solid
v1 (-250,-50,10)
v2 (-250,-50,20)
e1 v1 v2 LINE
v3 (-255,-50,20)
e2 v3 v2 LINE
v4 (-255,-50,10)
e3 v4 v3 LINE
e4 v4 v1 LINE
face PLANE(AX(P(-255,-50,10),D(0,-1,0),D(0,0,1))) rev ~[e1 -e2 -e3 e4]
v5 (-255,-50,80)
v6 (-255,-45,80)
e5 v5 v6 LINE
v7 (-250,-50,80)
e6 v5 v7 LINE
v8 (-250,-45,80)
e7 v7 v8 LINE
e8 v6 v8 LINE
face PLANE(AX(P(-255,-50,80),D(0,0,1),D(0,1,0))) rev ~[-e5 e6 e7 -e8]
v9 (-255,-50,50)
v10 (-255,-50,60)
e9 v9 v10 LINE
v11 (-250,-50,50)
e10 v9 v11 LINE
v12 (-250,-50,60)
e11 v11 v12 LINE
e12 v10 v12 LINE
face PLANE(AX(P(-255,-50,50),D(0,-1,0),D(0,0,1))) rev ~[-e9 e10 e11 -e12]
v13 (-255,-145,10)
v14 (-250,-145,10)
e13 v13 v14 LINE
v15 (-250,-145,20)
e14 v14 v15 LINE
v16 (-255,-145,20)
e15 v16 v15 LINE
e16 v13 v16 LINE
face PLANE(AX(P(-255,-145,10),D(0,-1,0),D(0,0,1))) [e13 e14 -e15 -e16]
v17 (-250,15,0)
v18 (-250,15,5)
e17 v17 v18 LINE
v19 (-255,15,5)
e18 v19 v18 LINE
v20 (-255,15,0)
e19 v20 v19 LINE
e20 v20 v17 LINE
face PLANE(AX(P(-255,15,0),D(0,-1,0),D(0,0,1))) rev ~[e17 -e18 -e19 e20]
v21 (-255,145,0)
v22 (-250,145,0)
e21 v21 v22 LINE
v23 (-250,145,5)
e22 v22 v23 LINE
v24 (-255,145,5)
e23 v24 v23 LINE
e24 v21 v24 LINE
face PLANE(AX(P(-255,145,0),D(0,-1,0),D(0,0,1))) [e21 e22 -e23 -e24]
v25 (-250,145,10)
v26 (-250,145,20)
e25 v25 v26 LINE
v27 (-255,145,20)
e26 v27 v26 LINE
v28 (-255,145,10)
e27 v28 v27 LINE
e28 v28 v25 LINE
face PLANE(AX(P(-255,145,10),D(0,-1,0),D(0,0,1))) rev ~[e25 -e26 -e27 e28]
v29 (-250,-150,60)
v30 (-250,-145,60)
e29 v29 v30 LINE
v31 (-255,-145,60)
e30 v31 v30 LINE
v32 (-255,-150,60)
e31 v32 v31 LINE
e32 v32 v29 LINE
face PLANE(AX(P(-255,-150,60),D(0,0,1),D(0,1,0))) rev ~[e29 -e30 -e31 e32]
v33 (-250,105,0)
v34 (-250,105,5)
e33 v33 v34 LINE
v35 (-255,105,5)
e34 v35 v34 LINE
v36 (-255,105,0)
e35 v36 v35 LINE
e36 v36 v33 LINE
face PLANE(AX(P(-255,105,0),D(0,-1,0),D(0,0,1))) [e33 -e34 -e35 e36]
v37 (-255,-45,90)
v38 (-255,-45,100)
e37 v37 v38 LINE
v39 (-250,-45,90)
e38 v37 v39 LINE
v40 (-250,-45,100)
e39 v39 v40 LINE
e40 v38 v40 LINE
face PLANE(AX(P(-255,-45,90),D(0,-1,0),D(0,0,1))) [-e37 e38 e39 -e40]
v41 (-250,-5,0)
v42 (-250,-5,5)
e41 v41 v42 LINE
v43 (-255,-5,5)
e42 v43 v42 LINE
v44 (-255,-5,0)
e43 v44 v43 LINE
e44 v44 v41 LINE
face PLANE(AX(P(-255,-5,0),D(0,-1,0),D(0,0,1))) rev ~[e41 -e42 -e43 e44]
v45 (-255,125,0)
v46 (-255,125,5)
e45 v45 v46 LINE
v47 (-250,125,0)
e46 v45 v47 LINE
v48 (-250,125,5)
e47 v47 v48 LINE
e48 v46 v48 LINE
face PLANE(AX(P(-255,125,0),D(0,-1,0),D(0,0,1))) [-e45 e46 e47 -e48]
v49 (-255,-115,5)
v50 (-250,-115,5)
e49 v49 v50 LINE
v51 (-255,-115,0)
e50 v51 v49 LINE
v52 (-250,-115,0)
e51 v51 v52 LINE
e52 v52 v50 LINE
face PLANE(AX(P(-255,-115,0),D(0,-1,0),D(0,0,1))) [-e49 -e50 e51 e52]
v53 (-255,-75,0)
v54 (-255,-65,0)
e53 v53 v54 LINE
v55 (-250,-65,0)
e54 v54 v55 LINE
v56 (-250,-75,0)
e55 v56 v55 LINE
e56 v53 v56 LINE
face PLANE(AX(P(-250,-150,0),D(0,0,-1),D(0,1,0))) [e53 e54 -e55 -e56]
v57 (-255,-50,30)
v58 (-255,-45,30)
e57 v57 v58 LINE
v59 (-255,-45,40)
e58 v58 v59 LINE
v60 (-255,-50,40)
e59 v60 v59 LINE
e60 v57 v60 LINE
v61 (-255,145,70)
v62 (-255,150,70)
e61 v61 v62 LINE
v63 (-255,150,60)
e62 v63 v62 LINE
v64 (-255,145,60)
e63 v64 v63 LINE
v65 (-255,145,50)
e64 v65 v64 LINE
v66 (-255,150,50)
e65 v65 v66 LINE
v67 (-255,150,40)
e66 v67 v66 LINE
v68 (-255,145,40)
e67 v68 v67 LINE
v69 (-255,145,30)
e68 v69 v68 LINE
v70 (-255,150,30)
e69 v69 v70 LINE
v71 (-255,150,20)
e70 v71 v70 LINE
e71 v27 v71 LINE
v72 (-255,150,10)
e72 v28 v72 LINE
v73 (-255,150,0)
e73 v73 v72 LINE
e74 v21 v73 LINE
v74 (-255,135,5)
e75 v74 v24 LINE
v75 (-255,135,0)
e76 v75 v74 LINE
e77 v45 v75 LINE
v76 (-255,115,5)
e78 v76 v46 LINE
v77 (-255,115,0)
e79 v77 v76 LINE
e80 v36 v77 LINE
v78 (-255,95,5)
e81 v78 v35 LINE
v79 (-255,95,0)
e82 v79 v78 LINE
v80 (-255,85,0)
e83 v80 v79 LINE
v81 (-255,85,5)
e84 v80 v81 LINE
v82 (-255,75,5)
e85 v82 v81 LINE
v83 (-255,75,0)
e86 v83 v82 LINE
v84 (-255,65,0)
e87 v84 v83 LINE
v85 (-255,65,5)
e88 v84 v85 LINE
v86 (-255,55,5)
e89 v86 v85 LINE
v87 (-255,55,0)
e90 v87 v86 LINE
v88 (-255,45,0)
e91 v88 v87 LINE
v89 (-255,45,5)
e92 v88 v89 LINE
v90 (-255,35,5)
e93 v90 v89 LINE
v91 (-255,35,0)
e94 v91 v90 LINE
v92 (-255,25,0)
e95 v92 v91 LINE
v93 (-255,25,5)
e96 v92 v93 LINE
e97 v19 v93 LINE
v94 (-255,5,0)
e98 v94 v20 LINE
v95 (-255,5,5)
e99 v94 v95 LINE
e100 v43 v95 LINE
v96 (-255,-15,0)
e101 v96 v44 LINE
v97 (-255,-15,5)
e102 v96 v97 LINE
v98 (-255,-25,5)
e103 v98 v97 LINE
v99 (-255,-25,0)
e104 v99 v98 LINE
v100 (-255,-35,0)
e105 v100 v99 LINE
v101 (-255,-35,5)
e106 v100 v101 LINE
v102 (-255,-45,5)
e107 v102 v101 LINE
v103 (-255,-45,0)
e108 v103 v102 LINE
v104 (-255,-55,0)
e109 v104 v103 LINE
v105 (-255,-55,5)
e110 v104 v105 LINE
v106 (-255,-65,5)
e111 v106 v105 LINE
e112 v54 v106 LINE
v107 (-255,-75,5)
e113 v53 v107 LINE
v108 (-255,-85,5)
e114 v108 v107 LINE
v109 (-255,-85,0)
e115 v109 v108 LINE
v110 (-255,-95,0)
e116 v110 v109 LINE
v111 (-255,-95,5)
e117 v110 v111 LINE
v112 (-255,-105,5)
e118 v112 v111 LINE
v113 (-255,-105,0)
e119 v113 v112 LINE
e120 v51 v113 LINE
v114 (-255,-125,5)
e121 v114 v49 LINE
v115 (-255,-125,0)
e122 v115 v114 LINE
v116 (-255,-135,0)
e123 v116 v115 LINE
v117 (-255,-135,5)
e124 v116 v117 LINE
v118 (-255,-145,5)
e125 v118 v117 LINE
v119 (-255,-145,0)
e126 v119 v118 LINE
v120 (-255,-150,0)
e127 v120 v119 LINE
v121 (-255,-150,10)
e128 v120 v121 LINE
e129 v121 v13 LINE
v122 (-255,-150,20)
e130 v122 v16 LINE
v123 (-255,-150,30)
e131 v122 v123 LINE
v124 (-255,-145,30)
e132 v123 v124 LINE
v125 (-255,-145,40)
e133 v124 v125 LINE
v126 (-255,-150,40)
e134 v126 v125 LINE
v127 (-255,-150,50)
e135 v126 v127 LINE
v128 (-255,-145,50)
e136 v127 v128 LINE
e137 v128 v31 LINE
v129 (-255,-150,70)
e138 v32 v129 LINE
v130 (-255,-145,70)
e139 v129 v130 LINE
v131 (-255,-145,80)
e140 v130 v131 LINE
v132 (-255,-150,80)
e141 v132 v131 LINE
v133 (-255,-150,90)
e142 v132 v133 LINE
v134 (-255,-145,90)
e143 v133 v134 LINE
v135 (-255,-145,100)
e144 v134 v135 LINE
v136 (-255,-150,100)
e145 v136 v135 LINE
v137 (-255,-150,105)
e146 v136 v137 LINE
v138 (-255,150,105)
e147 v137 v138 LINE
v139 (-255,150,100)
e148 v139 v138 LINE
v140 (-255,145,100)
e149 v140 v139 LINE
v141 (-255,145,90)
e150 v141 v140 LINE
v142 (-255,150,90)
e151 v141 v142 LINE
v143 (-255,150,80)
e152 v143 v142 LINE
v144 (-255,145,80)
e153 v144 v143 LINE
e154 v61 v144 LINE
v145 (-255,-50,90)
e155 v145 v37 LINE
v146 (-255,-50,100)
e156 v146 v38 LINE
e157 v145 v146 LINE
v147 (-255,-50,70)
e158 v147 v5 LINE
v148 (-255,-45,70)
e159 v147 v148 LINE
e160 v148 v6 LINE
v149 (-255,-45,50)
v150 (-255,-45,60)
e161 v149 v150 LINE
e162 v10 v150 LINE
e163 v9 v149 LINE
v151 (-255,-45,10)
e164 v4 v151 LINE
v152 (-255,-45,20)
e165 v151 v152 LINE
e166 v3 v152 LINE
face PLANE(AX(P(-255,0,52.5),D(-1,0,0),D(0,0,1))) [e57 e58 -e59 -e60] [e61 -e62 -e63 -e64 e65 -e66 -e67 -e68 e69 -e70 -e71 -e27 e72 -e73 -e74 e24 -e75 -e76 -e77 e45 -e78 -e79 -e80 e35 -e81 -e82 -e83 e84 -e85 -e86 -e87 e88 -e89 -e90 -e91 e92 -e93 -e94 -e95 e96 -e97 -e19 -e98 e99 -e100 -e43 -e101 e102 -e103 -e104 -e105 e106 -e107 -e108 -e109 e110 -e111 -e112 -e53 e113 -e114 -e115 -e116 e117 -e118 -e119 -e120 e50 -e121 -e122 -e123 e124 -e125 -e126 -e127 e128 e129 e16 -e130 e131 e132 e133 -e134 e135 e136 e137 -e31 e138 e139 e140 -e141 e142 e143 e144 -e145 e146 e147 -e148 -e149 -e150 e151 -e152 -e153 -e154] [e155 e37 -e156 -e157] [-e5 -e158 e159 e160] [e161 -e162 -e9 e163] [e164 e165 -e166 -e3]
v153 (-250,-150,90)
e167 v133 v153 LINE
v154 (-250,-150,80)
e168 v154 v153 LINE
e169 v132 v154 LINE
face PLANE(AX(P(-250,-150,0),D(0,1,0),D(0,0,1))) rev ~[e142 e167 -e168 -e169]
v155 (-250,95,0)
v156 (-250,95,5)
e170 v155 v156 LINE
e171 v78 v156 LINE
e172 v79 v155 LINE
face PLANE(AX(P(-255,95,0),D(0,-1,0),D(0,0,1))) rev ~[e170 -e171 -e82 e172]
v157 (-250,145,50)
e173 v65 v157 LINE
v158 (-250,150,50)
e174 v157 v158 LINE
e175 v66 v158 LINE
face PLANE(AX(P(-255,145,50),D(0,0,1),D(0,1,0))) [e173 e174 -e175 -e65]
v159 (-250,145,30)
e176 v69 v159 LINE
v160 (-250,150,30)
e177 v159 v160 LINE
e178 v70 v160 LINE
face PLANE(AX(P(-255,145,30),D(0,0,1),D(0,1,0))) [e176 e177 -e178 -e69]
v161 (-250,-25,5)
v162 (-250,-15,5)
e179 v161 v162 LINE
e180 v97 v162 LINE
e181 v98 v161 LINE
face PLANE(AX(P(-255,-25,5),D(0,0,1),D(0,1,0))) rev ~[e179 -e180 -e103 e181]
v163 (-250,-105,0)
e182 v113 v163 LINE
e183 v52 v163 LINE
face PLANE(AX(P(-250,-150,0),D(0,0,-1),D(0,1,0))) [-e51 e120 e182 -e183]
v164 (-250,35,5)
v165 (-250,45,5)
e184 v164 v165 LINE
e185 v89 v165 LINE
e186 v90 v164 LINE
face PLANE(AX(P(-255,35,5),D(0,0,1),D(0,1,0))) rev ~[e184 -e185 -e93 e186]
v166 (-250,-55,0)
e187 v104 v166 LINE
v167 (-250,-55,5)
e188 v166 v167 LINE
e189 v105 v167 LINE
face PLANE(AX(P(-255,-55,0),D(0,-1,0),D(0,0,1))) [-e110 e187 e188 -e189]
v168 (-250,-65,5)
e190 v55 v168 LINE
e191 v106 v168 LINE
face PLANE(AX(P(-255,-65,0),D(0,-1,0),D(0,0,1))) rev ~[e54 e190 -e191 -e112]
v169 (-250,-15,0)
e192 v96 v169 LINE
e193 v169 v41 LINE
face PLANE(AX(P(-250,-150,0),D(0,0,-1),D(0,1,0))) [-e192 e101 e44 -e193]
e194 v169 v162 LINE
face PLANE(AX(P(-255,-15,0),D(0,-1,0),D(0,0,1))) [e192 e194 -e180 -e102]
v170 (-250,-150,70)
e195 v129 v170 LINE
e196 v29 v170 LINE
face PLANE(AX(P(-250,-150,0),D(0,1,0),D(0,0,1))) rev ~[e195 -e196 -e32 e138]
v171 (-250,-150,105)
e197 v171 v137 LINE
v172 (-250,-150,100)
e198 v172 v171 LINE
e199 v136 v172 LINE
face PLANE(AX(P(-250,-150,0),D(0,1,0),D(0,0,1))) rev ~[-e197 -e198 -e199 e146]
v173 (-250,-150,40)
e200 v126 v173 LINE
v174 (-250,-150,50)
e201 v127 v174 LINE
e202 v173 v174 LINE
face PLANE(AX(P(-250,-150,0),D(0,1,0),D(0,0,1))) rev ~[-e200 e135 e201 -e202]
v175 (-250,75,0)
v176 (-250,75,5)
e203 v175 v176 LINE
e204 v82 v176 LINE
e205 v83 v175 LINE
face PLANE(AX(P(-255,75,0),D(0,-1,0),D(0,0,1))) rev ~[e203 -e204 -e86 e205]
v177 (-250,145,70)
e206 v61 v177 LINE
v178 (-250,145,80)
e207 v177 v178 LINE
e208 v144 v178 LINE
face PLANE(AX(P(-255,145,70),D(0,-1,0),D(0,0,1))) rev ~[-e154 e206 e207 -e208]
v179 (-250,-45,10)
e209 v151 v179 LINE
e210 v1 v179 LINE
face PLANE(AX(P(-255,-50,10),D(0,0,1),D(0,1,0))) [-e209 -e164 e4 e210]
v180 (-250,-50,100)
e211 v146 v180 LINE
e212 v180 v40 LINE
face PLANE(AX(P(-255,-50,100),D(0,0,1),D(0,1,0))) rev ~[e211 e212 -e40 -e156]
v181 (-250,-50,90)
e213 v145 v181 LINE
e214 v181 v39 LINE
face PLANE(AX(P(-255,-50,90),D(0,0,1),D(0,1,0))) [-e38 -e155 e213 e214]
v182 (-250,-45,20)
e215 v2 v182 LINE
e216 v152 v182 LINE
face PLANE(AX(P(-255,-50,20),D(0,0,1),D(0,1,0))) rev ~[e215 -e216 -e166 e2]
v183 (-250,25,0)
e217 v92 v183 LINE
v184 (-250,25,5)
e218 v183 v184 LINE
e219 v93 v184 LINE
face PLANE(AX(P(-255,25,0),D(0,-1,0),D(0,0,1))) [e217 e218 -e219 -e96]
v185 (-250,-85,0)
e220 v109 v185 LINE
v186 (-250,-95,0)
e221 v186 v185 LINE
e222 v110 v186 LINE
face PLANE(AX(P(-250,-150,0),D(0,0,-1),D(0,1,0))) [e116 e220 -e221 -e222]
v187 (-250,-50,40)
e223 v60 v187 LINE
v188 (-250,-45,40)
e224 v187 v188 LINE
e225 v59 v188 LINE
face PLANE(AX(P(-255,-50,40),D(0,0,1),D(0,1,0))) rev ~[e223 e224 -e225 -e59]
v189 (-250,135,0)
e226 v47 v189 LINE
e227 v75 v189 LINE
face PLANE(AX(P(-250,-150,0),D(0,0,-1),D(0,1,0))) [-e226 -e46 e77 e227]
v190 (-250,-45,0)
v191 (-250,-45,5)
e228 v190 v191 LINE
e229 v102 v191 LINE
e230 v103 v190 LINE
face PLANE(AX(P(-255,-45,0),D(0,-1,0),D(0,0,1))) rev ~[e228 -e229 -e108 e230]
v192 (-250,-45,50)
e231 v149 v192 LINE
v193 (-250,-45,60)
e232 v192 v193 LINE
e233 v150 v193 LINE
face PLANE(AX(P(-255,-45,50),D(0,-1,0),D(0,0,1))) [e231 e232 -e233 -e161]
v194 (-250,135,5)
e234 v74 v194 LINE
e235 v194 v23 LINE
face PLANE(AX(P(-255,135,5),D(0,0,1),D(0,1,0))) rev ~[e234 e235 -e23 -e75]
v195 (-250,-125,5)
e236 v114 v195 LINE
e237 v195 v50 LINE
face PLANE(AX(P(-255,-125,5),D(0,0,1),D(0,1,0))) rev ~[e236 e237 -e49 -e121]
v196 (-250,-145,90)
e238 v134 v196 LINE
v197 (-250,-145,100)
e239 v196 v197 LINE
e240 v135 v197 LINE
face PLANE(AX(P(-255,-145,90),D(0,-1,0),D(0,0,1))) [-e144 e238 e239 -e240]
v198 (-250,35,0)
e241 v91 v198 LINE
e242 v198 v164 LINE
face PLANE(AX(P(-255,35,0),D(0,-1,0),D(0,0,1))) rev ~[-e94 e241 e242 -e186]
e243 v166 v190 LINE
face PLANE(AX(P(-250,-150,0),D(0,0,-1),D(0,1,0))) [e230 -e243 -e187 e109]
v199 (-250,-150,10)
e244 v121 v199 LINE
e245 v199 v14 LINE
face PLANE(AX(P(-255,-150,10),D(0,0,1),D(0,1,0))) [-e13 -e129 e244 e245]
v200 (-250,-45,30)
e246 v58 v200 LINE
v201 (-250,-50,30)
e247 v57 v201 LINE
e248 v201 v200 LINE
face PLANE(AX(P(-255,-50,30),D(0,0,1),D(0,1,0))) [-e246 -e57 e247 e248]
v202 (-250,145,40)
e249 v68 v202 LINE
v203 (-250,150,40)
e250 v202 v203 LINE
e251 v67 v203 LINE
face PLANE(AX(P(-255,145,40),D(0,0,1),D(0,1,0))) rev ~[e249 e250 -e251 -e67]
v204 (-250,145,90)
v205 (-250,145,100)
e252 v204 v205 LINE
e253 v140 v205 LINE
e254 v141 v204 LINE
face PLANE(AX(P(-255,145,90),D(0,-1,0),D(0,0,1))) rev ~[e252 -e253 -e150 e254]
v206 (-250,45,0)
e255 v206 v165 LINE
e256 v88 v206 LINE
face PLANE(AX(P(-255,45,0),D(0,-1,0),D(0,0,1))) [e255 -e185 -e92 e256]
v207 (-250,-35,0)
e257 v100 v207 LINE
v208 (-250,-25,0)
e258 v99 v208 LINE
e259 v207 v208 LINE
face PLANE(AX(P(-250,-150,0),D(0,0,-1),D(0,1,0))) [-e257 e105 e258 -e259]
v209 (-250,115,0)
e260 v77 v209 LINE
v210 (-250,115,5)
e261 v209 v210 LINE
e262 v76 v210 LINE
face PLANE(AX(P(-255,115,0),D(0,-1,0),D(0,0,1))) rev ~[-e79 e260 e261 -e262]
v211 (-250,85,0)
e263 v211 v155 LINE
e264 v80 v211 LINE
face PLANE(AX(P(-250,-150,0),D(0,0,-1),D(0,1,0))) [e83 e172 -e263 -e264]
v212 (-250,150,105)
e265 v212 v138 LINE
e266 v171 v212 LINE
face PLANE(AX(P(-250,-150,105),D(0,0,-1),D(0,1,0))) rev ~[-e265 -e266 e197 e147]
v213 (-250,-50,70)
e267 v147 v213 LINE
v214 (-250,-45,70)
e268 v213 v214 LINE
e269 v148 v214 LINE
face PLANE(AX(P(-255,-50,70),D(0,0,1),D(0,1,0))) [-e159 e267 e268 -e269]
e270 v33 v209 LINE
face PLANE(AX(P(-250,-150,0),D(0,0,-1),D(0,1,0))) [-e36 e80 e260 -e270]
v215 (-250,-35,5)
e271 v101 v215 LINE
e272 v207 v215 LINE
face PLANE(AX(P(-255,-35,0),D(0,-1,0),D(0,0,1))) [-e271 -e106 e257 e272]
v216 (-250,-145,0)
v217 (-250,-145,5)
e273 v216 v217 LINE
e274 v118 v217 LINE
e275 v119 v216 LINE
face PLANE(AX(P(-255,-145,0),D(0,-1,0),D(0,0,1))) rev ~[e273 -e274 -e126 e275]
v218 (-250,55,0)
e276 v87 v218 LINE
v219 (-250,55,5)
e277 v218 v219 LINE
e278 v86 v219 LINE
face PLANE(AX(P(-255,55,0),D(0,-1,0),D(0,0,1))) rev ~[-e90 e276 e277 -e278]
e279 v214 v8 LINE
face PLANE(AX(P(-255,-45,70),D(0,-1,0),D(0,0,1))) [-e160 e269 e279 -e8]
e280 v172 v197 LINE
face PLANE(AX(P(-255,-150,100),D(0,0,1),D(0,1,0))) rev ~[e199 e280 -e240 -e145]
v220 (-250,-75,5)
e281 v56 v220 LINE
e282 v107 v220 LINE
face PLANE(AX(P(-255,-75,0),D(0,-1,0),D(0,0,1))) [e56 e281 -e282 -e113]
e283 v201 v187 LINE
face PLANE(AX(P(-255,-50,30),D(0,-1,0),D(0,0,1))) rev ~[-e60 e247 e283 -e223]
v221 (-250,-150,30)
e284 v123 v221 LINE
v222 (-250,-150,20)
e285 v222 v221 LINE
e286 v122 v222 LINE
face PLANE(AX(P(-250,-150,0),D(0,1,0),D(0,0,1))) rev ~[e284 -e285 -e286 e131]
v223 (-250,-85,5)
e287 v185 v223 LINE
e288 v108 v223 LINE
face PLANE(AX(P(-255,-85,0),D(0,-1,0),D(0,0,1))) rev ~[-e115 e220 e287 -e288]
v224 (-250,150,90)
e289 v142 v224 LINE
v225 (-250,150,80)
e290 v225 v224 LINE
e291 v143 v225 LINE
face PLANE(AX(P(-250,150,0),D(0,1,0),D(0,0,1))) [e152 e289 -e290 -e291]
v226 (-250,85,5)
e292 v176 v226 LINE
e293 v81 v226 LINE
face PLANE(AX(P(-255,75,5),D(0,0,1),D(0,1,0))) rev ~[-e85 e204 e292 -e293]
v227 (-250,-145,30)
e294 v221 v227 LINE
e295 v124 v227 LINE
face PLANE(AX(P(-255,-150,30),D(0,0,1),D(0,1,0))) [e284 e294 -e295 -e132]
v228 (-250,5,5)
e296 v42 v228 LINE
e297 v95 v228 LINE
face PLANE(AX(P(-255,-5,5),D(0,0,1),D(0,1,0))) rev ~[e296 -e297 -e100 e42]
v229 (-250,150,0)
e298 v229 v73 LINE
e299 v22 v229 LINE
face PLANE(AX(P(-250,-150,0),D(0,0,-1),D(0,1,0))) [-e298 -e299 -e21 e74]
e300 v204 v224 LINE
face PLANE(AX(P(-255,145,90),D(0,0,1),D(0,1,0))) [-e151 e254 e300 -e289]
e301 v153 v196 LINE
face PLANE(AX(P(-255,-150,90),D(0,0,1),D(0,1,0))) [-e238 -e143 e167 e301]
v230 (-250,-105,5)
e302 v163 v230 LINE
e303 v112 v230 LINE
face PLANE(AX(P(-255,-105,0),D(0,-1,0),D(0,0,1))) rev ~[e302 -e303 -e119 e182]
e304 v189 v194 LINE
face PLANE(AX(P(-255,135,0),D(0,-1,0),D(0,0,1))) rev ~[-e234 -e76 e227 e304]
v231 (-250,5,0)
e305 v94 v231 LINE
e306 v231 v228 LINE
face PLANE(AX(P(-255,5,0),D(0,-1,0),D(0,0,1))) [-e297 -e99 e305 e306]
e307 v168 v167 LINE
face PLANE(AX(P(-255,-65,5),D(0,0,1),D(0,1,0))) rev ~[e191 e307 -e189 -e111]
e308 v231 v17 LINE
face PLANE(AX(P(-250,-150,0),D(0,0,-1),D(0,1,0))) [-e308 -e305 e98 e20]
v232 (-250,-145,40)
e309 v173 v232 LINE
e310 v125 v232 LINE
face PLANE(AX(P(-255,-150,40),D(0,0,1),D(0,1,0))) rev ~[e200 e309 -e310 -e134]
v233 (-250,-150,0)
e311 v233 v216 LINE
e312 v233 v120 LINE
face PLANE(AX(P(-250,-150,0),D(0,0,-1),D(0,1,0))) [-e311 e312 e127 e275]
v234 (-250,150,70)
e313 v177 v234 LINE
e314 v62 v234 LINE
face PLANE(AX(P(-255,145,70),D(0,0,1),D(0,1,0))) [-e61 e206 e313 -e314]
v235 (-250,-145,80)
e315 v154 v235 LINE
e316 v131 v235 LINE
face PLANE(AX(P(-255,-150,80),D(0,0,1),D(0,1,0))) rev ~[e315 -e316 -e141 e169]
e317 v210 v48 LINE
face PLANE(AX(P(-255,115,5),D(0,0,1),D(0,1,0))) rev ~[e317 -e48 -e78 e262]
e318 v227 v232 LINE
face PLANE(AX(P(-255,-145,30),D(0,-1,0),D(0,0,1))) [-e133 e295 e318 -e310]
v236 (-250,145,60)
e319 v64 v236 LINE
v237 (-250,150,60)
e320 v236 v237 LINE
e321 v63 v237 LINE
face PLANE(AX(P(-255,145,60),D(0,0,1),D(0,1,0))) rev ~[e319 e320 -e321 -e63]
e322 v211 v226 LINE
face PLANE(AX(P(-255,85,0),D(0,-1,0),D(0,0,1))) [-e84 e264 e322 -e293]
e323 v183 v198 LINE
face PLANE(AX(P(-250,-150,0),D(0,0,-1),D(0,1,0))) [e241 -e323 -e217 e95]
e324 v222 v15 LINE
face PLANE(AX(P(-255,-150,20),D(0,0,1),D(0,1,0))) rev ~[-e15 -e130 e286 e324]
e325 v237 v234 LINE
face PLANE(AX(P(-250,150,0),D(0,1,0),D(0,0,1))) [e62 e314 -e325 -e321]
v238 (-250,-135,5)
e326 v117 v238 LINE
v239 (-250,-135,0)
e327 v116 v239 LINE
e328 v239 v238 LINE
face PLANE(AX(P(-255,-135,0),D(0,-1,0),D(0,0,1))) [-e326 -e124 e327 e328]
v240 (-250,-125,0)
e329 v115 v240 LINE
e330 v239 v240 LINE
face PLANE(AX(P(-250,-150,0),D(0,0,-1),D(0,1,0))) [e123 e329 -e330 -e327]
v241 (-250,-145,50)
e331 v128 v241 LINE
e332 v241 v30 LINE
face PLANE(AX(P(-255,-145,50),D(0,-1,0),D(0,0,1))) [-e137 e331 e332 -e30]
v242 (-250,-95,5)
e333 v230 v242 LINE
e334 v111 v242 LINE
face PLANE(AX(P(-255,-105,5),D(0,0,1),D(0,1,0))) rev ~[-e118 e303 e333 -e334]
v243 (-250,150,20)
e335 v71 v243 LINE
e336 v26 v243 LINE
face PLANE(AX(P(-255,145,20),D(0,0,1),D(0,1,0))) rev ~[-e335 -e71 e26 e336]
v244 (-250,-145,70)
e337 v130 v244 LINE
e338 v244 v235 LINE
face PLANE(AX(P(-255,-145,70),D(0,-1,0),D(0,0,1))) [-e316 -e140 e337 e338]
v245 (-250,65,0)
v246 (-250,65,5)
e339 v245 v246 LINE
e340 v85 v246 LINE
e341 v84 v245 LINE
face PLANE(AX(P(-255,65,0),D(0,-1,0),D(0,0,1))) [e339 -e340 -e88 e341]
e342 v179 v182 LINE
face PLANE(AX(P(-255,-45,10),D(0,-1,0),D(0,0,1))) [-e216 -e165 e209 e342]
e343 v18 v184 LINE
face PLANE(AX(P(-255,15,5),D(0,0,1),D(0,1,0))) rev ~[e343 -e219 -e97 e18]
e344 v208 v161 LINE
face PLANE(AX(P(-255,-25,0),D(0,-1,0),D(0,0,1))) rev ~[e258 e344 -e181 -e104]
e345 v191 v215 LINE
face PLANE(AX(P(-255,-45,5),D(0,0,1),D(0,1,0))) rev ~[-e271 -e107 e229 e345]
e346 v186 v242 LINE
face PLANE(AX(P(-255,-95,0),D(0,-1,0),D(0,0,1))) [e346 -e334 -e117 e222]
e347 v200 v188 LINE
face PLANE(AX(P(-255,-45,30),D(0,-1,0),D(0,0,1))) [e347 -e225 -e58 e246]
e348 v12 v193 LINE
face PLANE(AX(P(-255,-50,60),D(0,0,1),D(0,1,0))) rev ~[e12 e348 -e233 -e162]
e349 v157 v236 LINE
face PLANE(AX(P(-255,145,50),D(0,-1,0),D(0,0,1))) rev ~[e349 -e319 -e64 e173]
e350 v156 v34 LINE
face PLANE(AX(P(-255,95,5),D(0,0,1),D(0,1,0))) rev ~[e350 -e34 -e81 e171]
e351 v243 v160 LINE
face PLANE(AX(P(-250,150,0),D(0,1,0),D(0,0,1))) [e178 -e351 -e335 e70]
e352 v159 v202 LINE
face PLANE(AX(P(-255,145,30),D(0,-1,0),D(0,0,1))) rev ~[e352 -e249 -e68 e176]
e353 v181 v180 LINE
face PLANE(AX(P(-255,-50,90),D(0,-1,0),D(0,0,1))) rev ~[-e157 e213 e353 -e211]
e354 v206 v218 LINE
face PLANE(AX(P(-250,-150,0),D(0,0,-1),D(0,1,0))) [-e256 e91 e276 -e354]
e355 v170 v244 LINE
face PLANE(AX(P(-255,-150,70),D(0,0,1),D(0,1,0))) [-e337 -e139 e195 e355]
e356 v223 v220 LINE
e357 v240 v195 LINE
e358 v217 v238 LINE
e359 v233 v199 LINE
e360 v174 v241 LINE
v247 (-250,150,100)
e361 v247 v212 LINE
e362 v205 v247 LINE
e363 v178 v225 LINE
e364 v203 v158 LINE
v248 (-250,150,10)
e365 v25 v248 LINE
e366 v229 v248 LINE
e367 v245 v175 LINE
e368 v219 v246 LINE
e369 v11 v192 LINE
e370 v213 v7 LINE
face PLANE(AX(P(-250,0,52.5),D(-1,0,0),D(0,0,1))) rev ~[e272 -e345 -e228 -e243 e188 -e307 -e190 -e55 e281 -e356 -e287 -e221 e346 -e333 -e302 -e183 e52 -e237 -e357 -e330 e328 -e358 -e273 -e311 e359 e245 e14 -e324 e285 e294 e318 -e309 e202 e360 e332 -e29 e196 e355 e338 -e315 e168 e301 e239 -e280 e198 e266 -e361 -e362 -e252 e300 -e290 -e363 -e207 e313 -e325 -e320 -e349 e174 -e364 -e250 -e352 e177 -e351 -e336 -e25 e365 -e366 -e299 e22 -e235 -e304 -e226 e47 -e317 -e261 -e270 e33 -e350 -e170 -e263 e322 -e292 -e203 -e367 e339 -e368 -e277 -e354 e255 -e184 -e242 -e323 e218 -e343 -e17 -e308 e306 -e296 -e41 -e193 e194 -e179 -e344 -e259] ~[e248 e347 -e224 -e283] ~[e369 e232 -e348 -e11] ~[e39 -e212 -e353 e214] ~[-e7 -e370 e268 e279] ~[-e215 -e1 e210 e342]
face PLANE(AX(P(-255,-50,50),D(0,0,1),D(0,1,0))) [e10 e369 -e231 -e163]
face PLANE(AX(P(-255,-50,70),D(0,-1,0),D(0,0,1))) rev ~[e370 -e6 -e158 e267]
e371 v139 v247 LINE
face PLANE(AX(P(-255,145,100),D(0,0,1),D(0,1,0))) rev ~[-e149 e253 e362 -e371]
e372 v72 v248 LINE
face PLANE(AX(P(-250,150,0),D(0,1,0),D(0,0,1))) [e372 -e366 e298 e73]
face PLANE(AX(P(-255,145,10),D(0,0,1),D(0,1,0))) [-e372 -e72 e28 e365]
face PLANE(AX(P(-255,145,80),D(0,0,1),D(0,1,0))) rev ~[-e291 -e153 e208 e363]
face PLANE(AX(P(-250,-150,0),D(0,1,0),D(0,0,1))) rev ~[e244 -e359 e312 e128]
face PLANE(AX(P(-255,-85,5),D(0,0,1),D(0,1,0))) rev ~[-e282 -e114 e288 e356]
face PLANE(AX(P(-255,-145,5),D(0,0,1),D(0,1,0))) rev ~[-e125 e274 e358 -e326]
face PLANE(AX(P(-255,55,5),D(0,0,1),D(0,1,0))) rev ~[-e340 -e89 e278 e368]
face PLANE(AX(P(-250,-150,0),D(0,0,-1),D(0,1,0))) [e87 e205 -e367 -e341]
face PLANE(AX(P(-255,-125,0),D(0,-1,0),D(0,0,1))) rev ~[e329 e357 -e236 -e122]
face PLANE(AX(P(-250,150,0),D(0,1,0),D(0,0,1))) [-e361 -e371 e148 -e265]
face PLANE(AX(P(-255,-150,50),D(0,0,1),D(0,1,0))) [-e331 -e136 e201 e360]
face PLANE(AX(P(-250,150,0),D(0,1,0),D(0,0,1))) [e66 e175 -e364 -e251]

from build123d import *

# Parameters (mm, degrees)
SKETCH004_W             = 105
SKETCH004_H             = 300
PAD004_DEPTH            = 5
SKETCH125_W             = 5
SKETCH125_H             = 10
POCKET035_DEPTH         = 5
LINEARPATTERN077_COUNT  = 15
LINEARPATTERN077_PITCH  = 20
SKETCH126_W             = 10
SKETCH126_H             = 5
POCKET036_DEPTH         = 5
LINEARPATTERN078_COUNT  = 5
LINEARPATTERN078_PITCH  = 20
BODY004_PLACEMENT_ANGLE = 90


with BuildPart() as part:
    # Sketch004 → Pad004 (new body)
    with BuildSketch(Plane.XY):
        Rectangle(SKETCH004_W, SKETCH004_H)
    extrude(amount=PAD004_DEPTH)

    # Sketch125 (on DatumPlane) → Pocket035 (cut)
    with BuildSketch(Plane.XY.offset(5)):
        with Locations((-50, 140)):
            Rectangle(SKETCH125_W, SKETCH125_H)
    pocket035 = extrude(amount=-POCKET035_DEPTH, mode=Mode.SUBTRACT)

    # LinearPattern077: Pocket035 ×15
    with Locations(*[(0, -i * LINEARPATTERN077_PITCH, 0) for i in range(1, LINEARPATTERN077_COUNT)]):
        add(pocket035, mode=Mode.SUBTRACT)

    # Sketch126 (on DatumPlane) → Pocket036 (cut)
    with BuildSketch(Plane.XY.offset(5)):
        with Locations((-37.5, 147.5)):
            Rectangle(SKETCH126_W, SKETCH126_H)
        with Locations((-37.5, -47.5)):
            Rectangle(SKETCH126_W, SKETCH126_H)
        with Locations((-37.5, -147.5)):
            Rectangle(SKETCH126_W, SKETCH126_H)
    pocket036 = extrude(amount=-POCKET036_DEPTH, mode=Mode.SUBTRACT)

    # LinearPattern078: Pocket036 ×5
    with Locations(*[(i * LINEARPATTERN078_PITCH, 0, 0) for i in range(1, LINEARPATTERN078_COUNT)]):
        add(pocket036, mode=Mode.SUBTRACT)


with BuildPart() as part_1:
    # Body004 placement: moved
    add(part.part.moved(Location((-250, 0, 52.5))).rotate(Axis((-250, 0, 52.5), (0, -1, 0)), BODY004_PLACEMENT_ANGLE))


solid = part_1.part
